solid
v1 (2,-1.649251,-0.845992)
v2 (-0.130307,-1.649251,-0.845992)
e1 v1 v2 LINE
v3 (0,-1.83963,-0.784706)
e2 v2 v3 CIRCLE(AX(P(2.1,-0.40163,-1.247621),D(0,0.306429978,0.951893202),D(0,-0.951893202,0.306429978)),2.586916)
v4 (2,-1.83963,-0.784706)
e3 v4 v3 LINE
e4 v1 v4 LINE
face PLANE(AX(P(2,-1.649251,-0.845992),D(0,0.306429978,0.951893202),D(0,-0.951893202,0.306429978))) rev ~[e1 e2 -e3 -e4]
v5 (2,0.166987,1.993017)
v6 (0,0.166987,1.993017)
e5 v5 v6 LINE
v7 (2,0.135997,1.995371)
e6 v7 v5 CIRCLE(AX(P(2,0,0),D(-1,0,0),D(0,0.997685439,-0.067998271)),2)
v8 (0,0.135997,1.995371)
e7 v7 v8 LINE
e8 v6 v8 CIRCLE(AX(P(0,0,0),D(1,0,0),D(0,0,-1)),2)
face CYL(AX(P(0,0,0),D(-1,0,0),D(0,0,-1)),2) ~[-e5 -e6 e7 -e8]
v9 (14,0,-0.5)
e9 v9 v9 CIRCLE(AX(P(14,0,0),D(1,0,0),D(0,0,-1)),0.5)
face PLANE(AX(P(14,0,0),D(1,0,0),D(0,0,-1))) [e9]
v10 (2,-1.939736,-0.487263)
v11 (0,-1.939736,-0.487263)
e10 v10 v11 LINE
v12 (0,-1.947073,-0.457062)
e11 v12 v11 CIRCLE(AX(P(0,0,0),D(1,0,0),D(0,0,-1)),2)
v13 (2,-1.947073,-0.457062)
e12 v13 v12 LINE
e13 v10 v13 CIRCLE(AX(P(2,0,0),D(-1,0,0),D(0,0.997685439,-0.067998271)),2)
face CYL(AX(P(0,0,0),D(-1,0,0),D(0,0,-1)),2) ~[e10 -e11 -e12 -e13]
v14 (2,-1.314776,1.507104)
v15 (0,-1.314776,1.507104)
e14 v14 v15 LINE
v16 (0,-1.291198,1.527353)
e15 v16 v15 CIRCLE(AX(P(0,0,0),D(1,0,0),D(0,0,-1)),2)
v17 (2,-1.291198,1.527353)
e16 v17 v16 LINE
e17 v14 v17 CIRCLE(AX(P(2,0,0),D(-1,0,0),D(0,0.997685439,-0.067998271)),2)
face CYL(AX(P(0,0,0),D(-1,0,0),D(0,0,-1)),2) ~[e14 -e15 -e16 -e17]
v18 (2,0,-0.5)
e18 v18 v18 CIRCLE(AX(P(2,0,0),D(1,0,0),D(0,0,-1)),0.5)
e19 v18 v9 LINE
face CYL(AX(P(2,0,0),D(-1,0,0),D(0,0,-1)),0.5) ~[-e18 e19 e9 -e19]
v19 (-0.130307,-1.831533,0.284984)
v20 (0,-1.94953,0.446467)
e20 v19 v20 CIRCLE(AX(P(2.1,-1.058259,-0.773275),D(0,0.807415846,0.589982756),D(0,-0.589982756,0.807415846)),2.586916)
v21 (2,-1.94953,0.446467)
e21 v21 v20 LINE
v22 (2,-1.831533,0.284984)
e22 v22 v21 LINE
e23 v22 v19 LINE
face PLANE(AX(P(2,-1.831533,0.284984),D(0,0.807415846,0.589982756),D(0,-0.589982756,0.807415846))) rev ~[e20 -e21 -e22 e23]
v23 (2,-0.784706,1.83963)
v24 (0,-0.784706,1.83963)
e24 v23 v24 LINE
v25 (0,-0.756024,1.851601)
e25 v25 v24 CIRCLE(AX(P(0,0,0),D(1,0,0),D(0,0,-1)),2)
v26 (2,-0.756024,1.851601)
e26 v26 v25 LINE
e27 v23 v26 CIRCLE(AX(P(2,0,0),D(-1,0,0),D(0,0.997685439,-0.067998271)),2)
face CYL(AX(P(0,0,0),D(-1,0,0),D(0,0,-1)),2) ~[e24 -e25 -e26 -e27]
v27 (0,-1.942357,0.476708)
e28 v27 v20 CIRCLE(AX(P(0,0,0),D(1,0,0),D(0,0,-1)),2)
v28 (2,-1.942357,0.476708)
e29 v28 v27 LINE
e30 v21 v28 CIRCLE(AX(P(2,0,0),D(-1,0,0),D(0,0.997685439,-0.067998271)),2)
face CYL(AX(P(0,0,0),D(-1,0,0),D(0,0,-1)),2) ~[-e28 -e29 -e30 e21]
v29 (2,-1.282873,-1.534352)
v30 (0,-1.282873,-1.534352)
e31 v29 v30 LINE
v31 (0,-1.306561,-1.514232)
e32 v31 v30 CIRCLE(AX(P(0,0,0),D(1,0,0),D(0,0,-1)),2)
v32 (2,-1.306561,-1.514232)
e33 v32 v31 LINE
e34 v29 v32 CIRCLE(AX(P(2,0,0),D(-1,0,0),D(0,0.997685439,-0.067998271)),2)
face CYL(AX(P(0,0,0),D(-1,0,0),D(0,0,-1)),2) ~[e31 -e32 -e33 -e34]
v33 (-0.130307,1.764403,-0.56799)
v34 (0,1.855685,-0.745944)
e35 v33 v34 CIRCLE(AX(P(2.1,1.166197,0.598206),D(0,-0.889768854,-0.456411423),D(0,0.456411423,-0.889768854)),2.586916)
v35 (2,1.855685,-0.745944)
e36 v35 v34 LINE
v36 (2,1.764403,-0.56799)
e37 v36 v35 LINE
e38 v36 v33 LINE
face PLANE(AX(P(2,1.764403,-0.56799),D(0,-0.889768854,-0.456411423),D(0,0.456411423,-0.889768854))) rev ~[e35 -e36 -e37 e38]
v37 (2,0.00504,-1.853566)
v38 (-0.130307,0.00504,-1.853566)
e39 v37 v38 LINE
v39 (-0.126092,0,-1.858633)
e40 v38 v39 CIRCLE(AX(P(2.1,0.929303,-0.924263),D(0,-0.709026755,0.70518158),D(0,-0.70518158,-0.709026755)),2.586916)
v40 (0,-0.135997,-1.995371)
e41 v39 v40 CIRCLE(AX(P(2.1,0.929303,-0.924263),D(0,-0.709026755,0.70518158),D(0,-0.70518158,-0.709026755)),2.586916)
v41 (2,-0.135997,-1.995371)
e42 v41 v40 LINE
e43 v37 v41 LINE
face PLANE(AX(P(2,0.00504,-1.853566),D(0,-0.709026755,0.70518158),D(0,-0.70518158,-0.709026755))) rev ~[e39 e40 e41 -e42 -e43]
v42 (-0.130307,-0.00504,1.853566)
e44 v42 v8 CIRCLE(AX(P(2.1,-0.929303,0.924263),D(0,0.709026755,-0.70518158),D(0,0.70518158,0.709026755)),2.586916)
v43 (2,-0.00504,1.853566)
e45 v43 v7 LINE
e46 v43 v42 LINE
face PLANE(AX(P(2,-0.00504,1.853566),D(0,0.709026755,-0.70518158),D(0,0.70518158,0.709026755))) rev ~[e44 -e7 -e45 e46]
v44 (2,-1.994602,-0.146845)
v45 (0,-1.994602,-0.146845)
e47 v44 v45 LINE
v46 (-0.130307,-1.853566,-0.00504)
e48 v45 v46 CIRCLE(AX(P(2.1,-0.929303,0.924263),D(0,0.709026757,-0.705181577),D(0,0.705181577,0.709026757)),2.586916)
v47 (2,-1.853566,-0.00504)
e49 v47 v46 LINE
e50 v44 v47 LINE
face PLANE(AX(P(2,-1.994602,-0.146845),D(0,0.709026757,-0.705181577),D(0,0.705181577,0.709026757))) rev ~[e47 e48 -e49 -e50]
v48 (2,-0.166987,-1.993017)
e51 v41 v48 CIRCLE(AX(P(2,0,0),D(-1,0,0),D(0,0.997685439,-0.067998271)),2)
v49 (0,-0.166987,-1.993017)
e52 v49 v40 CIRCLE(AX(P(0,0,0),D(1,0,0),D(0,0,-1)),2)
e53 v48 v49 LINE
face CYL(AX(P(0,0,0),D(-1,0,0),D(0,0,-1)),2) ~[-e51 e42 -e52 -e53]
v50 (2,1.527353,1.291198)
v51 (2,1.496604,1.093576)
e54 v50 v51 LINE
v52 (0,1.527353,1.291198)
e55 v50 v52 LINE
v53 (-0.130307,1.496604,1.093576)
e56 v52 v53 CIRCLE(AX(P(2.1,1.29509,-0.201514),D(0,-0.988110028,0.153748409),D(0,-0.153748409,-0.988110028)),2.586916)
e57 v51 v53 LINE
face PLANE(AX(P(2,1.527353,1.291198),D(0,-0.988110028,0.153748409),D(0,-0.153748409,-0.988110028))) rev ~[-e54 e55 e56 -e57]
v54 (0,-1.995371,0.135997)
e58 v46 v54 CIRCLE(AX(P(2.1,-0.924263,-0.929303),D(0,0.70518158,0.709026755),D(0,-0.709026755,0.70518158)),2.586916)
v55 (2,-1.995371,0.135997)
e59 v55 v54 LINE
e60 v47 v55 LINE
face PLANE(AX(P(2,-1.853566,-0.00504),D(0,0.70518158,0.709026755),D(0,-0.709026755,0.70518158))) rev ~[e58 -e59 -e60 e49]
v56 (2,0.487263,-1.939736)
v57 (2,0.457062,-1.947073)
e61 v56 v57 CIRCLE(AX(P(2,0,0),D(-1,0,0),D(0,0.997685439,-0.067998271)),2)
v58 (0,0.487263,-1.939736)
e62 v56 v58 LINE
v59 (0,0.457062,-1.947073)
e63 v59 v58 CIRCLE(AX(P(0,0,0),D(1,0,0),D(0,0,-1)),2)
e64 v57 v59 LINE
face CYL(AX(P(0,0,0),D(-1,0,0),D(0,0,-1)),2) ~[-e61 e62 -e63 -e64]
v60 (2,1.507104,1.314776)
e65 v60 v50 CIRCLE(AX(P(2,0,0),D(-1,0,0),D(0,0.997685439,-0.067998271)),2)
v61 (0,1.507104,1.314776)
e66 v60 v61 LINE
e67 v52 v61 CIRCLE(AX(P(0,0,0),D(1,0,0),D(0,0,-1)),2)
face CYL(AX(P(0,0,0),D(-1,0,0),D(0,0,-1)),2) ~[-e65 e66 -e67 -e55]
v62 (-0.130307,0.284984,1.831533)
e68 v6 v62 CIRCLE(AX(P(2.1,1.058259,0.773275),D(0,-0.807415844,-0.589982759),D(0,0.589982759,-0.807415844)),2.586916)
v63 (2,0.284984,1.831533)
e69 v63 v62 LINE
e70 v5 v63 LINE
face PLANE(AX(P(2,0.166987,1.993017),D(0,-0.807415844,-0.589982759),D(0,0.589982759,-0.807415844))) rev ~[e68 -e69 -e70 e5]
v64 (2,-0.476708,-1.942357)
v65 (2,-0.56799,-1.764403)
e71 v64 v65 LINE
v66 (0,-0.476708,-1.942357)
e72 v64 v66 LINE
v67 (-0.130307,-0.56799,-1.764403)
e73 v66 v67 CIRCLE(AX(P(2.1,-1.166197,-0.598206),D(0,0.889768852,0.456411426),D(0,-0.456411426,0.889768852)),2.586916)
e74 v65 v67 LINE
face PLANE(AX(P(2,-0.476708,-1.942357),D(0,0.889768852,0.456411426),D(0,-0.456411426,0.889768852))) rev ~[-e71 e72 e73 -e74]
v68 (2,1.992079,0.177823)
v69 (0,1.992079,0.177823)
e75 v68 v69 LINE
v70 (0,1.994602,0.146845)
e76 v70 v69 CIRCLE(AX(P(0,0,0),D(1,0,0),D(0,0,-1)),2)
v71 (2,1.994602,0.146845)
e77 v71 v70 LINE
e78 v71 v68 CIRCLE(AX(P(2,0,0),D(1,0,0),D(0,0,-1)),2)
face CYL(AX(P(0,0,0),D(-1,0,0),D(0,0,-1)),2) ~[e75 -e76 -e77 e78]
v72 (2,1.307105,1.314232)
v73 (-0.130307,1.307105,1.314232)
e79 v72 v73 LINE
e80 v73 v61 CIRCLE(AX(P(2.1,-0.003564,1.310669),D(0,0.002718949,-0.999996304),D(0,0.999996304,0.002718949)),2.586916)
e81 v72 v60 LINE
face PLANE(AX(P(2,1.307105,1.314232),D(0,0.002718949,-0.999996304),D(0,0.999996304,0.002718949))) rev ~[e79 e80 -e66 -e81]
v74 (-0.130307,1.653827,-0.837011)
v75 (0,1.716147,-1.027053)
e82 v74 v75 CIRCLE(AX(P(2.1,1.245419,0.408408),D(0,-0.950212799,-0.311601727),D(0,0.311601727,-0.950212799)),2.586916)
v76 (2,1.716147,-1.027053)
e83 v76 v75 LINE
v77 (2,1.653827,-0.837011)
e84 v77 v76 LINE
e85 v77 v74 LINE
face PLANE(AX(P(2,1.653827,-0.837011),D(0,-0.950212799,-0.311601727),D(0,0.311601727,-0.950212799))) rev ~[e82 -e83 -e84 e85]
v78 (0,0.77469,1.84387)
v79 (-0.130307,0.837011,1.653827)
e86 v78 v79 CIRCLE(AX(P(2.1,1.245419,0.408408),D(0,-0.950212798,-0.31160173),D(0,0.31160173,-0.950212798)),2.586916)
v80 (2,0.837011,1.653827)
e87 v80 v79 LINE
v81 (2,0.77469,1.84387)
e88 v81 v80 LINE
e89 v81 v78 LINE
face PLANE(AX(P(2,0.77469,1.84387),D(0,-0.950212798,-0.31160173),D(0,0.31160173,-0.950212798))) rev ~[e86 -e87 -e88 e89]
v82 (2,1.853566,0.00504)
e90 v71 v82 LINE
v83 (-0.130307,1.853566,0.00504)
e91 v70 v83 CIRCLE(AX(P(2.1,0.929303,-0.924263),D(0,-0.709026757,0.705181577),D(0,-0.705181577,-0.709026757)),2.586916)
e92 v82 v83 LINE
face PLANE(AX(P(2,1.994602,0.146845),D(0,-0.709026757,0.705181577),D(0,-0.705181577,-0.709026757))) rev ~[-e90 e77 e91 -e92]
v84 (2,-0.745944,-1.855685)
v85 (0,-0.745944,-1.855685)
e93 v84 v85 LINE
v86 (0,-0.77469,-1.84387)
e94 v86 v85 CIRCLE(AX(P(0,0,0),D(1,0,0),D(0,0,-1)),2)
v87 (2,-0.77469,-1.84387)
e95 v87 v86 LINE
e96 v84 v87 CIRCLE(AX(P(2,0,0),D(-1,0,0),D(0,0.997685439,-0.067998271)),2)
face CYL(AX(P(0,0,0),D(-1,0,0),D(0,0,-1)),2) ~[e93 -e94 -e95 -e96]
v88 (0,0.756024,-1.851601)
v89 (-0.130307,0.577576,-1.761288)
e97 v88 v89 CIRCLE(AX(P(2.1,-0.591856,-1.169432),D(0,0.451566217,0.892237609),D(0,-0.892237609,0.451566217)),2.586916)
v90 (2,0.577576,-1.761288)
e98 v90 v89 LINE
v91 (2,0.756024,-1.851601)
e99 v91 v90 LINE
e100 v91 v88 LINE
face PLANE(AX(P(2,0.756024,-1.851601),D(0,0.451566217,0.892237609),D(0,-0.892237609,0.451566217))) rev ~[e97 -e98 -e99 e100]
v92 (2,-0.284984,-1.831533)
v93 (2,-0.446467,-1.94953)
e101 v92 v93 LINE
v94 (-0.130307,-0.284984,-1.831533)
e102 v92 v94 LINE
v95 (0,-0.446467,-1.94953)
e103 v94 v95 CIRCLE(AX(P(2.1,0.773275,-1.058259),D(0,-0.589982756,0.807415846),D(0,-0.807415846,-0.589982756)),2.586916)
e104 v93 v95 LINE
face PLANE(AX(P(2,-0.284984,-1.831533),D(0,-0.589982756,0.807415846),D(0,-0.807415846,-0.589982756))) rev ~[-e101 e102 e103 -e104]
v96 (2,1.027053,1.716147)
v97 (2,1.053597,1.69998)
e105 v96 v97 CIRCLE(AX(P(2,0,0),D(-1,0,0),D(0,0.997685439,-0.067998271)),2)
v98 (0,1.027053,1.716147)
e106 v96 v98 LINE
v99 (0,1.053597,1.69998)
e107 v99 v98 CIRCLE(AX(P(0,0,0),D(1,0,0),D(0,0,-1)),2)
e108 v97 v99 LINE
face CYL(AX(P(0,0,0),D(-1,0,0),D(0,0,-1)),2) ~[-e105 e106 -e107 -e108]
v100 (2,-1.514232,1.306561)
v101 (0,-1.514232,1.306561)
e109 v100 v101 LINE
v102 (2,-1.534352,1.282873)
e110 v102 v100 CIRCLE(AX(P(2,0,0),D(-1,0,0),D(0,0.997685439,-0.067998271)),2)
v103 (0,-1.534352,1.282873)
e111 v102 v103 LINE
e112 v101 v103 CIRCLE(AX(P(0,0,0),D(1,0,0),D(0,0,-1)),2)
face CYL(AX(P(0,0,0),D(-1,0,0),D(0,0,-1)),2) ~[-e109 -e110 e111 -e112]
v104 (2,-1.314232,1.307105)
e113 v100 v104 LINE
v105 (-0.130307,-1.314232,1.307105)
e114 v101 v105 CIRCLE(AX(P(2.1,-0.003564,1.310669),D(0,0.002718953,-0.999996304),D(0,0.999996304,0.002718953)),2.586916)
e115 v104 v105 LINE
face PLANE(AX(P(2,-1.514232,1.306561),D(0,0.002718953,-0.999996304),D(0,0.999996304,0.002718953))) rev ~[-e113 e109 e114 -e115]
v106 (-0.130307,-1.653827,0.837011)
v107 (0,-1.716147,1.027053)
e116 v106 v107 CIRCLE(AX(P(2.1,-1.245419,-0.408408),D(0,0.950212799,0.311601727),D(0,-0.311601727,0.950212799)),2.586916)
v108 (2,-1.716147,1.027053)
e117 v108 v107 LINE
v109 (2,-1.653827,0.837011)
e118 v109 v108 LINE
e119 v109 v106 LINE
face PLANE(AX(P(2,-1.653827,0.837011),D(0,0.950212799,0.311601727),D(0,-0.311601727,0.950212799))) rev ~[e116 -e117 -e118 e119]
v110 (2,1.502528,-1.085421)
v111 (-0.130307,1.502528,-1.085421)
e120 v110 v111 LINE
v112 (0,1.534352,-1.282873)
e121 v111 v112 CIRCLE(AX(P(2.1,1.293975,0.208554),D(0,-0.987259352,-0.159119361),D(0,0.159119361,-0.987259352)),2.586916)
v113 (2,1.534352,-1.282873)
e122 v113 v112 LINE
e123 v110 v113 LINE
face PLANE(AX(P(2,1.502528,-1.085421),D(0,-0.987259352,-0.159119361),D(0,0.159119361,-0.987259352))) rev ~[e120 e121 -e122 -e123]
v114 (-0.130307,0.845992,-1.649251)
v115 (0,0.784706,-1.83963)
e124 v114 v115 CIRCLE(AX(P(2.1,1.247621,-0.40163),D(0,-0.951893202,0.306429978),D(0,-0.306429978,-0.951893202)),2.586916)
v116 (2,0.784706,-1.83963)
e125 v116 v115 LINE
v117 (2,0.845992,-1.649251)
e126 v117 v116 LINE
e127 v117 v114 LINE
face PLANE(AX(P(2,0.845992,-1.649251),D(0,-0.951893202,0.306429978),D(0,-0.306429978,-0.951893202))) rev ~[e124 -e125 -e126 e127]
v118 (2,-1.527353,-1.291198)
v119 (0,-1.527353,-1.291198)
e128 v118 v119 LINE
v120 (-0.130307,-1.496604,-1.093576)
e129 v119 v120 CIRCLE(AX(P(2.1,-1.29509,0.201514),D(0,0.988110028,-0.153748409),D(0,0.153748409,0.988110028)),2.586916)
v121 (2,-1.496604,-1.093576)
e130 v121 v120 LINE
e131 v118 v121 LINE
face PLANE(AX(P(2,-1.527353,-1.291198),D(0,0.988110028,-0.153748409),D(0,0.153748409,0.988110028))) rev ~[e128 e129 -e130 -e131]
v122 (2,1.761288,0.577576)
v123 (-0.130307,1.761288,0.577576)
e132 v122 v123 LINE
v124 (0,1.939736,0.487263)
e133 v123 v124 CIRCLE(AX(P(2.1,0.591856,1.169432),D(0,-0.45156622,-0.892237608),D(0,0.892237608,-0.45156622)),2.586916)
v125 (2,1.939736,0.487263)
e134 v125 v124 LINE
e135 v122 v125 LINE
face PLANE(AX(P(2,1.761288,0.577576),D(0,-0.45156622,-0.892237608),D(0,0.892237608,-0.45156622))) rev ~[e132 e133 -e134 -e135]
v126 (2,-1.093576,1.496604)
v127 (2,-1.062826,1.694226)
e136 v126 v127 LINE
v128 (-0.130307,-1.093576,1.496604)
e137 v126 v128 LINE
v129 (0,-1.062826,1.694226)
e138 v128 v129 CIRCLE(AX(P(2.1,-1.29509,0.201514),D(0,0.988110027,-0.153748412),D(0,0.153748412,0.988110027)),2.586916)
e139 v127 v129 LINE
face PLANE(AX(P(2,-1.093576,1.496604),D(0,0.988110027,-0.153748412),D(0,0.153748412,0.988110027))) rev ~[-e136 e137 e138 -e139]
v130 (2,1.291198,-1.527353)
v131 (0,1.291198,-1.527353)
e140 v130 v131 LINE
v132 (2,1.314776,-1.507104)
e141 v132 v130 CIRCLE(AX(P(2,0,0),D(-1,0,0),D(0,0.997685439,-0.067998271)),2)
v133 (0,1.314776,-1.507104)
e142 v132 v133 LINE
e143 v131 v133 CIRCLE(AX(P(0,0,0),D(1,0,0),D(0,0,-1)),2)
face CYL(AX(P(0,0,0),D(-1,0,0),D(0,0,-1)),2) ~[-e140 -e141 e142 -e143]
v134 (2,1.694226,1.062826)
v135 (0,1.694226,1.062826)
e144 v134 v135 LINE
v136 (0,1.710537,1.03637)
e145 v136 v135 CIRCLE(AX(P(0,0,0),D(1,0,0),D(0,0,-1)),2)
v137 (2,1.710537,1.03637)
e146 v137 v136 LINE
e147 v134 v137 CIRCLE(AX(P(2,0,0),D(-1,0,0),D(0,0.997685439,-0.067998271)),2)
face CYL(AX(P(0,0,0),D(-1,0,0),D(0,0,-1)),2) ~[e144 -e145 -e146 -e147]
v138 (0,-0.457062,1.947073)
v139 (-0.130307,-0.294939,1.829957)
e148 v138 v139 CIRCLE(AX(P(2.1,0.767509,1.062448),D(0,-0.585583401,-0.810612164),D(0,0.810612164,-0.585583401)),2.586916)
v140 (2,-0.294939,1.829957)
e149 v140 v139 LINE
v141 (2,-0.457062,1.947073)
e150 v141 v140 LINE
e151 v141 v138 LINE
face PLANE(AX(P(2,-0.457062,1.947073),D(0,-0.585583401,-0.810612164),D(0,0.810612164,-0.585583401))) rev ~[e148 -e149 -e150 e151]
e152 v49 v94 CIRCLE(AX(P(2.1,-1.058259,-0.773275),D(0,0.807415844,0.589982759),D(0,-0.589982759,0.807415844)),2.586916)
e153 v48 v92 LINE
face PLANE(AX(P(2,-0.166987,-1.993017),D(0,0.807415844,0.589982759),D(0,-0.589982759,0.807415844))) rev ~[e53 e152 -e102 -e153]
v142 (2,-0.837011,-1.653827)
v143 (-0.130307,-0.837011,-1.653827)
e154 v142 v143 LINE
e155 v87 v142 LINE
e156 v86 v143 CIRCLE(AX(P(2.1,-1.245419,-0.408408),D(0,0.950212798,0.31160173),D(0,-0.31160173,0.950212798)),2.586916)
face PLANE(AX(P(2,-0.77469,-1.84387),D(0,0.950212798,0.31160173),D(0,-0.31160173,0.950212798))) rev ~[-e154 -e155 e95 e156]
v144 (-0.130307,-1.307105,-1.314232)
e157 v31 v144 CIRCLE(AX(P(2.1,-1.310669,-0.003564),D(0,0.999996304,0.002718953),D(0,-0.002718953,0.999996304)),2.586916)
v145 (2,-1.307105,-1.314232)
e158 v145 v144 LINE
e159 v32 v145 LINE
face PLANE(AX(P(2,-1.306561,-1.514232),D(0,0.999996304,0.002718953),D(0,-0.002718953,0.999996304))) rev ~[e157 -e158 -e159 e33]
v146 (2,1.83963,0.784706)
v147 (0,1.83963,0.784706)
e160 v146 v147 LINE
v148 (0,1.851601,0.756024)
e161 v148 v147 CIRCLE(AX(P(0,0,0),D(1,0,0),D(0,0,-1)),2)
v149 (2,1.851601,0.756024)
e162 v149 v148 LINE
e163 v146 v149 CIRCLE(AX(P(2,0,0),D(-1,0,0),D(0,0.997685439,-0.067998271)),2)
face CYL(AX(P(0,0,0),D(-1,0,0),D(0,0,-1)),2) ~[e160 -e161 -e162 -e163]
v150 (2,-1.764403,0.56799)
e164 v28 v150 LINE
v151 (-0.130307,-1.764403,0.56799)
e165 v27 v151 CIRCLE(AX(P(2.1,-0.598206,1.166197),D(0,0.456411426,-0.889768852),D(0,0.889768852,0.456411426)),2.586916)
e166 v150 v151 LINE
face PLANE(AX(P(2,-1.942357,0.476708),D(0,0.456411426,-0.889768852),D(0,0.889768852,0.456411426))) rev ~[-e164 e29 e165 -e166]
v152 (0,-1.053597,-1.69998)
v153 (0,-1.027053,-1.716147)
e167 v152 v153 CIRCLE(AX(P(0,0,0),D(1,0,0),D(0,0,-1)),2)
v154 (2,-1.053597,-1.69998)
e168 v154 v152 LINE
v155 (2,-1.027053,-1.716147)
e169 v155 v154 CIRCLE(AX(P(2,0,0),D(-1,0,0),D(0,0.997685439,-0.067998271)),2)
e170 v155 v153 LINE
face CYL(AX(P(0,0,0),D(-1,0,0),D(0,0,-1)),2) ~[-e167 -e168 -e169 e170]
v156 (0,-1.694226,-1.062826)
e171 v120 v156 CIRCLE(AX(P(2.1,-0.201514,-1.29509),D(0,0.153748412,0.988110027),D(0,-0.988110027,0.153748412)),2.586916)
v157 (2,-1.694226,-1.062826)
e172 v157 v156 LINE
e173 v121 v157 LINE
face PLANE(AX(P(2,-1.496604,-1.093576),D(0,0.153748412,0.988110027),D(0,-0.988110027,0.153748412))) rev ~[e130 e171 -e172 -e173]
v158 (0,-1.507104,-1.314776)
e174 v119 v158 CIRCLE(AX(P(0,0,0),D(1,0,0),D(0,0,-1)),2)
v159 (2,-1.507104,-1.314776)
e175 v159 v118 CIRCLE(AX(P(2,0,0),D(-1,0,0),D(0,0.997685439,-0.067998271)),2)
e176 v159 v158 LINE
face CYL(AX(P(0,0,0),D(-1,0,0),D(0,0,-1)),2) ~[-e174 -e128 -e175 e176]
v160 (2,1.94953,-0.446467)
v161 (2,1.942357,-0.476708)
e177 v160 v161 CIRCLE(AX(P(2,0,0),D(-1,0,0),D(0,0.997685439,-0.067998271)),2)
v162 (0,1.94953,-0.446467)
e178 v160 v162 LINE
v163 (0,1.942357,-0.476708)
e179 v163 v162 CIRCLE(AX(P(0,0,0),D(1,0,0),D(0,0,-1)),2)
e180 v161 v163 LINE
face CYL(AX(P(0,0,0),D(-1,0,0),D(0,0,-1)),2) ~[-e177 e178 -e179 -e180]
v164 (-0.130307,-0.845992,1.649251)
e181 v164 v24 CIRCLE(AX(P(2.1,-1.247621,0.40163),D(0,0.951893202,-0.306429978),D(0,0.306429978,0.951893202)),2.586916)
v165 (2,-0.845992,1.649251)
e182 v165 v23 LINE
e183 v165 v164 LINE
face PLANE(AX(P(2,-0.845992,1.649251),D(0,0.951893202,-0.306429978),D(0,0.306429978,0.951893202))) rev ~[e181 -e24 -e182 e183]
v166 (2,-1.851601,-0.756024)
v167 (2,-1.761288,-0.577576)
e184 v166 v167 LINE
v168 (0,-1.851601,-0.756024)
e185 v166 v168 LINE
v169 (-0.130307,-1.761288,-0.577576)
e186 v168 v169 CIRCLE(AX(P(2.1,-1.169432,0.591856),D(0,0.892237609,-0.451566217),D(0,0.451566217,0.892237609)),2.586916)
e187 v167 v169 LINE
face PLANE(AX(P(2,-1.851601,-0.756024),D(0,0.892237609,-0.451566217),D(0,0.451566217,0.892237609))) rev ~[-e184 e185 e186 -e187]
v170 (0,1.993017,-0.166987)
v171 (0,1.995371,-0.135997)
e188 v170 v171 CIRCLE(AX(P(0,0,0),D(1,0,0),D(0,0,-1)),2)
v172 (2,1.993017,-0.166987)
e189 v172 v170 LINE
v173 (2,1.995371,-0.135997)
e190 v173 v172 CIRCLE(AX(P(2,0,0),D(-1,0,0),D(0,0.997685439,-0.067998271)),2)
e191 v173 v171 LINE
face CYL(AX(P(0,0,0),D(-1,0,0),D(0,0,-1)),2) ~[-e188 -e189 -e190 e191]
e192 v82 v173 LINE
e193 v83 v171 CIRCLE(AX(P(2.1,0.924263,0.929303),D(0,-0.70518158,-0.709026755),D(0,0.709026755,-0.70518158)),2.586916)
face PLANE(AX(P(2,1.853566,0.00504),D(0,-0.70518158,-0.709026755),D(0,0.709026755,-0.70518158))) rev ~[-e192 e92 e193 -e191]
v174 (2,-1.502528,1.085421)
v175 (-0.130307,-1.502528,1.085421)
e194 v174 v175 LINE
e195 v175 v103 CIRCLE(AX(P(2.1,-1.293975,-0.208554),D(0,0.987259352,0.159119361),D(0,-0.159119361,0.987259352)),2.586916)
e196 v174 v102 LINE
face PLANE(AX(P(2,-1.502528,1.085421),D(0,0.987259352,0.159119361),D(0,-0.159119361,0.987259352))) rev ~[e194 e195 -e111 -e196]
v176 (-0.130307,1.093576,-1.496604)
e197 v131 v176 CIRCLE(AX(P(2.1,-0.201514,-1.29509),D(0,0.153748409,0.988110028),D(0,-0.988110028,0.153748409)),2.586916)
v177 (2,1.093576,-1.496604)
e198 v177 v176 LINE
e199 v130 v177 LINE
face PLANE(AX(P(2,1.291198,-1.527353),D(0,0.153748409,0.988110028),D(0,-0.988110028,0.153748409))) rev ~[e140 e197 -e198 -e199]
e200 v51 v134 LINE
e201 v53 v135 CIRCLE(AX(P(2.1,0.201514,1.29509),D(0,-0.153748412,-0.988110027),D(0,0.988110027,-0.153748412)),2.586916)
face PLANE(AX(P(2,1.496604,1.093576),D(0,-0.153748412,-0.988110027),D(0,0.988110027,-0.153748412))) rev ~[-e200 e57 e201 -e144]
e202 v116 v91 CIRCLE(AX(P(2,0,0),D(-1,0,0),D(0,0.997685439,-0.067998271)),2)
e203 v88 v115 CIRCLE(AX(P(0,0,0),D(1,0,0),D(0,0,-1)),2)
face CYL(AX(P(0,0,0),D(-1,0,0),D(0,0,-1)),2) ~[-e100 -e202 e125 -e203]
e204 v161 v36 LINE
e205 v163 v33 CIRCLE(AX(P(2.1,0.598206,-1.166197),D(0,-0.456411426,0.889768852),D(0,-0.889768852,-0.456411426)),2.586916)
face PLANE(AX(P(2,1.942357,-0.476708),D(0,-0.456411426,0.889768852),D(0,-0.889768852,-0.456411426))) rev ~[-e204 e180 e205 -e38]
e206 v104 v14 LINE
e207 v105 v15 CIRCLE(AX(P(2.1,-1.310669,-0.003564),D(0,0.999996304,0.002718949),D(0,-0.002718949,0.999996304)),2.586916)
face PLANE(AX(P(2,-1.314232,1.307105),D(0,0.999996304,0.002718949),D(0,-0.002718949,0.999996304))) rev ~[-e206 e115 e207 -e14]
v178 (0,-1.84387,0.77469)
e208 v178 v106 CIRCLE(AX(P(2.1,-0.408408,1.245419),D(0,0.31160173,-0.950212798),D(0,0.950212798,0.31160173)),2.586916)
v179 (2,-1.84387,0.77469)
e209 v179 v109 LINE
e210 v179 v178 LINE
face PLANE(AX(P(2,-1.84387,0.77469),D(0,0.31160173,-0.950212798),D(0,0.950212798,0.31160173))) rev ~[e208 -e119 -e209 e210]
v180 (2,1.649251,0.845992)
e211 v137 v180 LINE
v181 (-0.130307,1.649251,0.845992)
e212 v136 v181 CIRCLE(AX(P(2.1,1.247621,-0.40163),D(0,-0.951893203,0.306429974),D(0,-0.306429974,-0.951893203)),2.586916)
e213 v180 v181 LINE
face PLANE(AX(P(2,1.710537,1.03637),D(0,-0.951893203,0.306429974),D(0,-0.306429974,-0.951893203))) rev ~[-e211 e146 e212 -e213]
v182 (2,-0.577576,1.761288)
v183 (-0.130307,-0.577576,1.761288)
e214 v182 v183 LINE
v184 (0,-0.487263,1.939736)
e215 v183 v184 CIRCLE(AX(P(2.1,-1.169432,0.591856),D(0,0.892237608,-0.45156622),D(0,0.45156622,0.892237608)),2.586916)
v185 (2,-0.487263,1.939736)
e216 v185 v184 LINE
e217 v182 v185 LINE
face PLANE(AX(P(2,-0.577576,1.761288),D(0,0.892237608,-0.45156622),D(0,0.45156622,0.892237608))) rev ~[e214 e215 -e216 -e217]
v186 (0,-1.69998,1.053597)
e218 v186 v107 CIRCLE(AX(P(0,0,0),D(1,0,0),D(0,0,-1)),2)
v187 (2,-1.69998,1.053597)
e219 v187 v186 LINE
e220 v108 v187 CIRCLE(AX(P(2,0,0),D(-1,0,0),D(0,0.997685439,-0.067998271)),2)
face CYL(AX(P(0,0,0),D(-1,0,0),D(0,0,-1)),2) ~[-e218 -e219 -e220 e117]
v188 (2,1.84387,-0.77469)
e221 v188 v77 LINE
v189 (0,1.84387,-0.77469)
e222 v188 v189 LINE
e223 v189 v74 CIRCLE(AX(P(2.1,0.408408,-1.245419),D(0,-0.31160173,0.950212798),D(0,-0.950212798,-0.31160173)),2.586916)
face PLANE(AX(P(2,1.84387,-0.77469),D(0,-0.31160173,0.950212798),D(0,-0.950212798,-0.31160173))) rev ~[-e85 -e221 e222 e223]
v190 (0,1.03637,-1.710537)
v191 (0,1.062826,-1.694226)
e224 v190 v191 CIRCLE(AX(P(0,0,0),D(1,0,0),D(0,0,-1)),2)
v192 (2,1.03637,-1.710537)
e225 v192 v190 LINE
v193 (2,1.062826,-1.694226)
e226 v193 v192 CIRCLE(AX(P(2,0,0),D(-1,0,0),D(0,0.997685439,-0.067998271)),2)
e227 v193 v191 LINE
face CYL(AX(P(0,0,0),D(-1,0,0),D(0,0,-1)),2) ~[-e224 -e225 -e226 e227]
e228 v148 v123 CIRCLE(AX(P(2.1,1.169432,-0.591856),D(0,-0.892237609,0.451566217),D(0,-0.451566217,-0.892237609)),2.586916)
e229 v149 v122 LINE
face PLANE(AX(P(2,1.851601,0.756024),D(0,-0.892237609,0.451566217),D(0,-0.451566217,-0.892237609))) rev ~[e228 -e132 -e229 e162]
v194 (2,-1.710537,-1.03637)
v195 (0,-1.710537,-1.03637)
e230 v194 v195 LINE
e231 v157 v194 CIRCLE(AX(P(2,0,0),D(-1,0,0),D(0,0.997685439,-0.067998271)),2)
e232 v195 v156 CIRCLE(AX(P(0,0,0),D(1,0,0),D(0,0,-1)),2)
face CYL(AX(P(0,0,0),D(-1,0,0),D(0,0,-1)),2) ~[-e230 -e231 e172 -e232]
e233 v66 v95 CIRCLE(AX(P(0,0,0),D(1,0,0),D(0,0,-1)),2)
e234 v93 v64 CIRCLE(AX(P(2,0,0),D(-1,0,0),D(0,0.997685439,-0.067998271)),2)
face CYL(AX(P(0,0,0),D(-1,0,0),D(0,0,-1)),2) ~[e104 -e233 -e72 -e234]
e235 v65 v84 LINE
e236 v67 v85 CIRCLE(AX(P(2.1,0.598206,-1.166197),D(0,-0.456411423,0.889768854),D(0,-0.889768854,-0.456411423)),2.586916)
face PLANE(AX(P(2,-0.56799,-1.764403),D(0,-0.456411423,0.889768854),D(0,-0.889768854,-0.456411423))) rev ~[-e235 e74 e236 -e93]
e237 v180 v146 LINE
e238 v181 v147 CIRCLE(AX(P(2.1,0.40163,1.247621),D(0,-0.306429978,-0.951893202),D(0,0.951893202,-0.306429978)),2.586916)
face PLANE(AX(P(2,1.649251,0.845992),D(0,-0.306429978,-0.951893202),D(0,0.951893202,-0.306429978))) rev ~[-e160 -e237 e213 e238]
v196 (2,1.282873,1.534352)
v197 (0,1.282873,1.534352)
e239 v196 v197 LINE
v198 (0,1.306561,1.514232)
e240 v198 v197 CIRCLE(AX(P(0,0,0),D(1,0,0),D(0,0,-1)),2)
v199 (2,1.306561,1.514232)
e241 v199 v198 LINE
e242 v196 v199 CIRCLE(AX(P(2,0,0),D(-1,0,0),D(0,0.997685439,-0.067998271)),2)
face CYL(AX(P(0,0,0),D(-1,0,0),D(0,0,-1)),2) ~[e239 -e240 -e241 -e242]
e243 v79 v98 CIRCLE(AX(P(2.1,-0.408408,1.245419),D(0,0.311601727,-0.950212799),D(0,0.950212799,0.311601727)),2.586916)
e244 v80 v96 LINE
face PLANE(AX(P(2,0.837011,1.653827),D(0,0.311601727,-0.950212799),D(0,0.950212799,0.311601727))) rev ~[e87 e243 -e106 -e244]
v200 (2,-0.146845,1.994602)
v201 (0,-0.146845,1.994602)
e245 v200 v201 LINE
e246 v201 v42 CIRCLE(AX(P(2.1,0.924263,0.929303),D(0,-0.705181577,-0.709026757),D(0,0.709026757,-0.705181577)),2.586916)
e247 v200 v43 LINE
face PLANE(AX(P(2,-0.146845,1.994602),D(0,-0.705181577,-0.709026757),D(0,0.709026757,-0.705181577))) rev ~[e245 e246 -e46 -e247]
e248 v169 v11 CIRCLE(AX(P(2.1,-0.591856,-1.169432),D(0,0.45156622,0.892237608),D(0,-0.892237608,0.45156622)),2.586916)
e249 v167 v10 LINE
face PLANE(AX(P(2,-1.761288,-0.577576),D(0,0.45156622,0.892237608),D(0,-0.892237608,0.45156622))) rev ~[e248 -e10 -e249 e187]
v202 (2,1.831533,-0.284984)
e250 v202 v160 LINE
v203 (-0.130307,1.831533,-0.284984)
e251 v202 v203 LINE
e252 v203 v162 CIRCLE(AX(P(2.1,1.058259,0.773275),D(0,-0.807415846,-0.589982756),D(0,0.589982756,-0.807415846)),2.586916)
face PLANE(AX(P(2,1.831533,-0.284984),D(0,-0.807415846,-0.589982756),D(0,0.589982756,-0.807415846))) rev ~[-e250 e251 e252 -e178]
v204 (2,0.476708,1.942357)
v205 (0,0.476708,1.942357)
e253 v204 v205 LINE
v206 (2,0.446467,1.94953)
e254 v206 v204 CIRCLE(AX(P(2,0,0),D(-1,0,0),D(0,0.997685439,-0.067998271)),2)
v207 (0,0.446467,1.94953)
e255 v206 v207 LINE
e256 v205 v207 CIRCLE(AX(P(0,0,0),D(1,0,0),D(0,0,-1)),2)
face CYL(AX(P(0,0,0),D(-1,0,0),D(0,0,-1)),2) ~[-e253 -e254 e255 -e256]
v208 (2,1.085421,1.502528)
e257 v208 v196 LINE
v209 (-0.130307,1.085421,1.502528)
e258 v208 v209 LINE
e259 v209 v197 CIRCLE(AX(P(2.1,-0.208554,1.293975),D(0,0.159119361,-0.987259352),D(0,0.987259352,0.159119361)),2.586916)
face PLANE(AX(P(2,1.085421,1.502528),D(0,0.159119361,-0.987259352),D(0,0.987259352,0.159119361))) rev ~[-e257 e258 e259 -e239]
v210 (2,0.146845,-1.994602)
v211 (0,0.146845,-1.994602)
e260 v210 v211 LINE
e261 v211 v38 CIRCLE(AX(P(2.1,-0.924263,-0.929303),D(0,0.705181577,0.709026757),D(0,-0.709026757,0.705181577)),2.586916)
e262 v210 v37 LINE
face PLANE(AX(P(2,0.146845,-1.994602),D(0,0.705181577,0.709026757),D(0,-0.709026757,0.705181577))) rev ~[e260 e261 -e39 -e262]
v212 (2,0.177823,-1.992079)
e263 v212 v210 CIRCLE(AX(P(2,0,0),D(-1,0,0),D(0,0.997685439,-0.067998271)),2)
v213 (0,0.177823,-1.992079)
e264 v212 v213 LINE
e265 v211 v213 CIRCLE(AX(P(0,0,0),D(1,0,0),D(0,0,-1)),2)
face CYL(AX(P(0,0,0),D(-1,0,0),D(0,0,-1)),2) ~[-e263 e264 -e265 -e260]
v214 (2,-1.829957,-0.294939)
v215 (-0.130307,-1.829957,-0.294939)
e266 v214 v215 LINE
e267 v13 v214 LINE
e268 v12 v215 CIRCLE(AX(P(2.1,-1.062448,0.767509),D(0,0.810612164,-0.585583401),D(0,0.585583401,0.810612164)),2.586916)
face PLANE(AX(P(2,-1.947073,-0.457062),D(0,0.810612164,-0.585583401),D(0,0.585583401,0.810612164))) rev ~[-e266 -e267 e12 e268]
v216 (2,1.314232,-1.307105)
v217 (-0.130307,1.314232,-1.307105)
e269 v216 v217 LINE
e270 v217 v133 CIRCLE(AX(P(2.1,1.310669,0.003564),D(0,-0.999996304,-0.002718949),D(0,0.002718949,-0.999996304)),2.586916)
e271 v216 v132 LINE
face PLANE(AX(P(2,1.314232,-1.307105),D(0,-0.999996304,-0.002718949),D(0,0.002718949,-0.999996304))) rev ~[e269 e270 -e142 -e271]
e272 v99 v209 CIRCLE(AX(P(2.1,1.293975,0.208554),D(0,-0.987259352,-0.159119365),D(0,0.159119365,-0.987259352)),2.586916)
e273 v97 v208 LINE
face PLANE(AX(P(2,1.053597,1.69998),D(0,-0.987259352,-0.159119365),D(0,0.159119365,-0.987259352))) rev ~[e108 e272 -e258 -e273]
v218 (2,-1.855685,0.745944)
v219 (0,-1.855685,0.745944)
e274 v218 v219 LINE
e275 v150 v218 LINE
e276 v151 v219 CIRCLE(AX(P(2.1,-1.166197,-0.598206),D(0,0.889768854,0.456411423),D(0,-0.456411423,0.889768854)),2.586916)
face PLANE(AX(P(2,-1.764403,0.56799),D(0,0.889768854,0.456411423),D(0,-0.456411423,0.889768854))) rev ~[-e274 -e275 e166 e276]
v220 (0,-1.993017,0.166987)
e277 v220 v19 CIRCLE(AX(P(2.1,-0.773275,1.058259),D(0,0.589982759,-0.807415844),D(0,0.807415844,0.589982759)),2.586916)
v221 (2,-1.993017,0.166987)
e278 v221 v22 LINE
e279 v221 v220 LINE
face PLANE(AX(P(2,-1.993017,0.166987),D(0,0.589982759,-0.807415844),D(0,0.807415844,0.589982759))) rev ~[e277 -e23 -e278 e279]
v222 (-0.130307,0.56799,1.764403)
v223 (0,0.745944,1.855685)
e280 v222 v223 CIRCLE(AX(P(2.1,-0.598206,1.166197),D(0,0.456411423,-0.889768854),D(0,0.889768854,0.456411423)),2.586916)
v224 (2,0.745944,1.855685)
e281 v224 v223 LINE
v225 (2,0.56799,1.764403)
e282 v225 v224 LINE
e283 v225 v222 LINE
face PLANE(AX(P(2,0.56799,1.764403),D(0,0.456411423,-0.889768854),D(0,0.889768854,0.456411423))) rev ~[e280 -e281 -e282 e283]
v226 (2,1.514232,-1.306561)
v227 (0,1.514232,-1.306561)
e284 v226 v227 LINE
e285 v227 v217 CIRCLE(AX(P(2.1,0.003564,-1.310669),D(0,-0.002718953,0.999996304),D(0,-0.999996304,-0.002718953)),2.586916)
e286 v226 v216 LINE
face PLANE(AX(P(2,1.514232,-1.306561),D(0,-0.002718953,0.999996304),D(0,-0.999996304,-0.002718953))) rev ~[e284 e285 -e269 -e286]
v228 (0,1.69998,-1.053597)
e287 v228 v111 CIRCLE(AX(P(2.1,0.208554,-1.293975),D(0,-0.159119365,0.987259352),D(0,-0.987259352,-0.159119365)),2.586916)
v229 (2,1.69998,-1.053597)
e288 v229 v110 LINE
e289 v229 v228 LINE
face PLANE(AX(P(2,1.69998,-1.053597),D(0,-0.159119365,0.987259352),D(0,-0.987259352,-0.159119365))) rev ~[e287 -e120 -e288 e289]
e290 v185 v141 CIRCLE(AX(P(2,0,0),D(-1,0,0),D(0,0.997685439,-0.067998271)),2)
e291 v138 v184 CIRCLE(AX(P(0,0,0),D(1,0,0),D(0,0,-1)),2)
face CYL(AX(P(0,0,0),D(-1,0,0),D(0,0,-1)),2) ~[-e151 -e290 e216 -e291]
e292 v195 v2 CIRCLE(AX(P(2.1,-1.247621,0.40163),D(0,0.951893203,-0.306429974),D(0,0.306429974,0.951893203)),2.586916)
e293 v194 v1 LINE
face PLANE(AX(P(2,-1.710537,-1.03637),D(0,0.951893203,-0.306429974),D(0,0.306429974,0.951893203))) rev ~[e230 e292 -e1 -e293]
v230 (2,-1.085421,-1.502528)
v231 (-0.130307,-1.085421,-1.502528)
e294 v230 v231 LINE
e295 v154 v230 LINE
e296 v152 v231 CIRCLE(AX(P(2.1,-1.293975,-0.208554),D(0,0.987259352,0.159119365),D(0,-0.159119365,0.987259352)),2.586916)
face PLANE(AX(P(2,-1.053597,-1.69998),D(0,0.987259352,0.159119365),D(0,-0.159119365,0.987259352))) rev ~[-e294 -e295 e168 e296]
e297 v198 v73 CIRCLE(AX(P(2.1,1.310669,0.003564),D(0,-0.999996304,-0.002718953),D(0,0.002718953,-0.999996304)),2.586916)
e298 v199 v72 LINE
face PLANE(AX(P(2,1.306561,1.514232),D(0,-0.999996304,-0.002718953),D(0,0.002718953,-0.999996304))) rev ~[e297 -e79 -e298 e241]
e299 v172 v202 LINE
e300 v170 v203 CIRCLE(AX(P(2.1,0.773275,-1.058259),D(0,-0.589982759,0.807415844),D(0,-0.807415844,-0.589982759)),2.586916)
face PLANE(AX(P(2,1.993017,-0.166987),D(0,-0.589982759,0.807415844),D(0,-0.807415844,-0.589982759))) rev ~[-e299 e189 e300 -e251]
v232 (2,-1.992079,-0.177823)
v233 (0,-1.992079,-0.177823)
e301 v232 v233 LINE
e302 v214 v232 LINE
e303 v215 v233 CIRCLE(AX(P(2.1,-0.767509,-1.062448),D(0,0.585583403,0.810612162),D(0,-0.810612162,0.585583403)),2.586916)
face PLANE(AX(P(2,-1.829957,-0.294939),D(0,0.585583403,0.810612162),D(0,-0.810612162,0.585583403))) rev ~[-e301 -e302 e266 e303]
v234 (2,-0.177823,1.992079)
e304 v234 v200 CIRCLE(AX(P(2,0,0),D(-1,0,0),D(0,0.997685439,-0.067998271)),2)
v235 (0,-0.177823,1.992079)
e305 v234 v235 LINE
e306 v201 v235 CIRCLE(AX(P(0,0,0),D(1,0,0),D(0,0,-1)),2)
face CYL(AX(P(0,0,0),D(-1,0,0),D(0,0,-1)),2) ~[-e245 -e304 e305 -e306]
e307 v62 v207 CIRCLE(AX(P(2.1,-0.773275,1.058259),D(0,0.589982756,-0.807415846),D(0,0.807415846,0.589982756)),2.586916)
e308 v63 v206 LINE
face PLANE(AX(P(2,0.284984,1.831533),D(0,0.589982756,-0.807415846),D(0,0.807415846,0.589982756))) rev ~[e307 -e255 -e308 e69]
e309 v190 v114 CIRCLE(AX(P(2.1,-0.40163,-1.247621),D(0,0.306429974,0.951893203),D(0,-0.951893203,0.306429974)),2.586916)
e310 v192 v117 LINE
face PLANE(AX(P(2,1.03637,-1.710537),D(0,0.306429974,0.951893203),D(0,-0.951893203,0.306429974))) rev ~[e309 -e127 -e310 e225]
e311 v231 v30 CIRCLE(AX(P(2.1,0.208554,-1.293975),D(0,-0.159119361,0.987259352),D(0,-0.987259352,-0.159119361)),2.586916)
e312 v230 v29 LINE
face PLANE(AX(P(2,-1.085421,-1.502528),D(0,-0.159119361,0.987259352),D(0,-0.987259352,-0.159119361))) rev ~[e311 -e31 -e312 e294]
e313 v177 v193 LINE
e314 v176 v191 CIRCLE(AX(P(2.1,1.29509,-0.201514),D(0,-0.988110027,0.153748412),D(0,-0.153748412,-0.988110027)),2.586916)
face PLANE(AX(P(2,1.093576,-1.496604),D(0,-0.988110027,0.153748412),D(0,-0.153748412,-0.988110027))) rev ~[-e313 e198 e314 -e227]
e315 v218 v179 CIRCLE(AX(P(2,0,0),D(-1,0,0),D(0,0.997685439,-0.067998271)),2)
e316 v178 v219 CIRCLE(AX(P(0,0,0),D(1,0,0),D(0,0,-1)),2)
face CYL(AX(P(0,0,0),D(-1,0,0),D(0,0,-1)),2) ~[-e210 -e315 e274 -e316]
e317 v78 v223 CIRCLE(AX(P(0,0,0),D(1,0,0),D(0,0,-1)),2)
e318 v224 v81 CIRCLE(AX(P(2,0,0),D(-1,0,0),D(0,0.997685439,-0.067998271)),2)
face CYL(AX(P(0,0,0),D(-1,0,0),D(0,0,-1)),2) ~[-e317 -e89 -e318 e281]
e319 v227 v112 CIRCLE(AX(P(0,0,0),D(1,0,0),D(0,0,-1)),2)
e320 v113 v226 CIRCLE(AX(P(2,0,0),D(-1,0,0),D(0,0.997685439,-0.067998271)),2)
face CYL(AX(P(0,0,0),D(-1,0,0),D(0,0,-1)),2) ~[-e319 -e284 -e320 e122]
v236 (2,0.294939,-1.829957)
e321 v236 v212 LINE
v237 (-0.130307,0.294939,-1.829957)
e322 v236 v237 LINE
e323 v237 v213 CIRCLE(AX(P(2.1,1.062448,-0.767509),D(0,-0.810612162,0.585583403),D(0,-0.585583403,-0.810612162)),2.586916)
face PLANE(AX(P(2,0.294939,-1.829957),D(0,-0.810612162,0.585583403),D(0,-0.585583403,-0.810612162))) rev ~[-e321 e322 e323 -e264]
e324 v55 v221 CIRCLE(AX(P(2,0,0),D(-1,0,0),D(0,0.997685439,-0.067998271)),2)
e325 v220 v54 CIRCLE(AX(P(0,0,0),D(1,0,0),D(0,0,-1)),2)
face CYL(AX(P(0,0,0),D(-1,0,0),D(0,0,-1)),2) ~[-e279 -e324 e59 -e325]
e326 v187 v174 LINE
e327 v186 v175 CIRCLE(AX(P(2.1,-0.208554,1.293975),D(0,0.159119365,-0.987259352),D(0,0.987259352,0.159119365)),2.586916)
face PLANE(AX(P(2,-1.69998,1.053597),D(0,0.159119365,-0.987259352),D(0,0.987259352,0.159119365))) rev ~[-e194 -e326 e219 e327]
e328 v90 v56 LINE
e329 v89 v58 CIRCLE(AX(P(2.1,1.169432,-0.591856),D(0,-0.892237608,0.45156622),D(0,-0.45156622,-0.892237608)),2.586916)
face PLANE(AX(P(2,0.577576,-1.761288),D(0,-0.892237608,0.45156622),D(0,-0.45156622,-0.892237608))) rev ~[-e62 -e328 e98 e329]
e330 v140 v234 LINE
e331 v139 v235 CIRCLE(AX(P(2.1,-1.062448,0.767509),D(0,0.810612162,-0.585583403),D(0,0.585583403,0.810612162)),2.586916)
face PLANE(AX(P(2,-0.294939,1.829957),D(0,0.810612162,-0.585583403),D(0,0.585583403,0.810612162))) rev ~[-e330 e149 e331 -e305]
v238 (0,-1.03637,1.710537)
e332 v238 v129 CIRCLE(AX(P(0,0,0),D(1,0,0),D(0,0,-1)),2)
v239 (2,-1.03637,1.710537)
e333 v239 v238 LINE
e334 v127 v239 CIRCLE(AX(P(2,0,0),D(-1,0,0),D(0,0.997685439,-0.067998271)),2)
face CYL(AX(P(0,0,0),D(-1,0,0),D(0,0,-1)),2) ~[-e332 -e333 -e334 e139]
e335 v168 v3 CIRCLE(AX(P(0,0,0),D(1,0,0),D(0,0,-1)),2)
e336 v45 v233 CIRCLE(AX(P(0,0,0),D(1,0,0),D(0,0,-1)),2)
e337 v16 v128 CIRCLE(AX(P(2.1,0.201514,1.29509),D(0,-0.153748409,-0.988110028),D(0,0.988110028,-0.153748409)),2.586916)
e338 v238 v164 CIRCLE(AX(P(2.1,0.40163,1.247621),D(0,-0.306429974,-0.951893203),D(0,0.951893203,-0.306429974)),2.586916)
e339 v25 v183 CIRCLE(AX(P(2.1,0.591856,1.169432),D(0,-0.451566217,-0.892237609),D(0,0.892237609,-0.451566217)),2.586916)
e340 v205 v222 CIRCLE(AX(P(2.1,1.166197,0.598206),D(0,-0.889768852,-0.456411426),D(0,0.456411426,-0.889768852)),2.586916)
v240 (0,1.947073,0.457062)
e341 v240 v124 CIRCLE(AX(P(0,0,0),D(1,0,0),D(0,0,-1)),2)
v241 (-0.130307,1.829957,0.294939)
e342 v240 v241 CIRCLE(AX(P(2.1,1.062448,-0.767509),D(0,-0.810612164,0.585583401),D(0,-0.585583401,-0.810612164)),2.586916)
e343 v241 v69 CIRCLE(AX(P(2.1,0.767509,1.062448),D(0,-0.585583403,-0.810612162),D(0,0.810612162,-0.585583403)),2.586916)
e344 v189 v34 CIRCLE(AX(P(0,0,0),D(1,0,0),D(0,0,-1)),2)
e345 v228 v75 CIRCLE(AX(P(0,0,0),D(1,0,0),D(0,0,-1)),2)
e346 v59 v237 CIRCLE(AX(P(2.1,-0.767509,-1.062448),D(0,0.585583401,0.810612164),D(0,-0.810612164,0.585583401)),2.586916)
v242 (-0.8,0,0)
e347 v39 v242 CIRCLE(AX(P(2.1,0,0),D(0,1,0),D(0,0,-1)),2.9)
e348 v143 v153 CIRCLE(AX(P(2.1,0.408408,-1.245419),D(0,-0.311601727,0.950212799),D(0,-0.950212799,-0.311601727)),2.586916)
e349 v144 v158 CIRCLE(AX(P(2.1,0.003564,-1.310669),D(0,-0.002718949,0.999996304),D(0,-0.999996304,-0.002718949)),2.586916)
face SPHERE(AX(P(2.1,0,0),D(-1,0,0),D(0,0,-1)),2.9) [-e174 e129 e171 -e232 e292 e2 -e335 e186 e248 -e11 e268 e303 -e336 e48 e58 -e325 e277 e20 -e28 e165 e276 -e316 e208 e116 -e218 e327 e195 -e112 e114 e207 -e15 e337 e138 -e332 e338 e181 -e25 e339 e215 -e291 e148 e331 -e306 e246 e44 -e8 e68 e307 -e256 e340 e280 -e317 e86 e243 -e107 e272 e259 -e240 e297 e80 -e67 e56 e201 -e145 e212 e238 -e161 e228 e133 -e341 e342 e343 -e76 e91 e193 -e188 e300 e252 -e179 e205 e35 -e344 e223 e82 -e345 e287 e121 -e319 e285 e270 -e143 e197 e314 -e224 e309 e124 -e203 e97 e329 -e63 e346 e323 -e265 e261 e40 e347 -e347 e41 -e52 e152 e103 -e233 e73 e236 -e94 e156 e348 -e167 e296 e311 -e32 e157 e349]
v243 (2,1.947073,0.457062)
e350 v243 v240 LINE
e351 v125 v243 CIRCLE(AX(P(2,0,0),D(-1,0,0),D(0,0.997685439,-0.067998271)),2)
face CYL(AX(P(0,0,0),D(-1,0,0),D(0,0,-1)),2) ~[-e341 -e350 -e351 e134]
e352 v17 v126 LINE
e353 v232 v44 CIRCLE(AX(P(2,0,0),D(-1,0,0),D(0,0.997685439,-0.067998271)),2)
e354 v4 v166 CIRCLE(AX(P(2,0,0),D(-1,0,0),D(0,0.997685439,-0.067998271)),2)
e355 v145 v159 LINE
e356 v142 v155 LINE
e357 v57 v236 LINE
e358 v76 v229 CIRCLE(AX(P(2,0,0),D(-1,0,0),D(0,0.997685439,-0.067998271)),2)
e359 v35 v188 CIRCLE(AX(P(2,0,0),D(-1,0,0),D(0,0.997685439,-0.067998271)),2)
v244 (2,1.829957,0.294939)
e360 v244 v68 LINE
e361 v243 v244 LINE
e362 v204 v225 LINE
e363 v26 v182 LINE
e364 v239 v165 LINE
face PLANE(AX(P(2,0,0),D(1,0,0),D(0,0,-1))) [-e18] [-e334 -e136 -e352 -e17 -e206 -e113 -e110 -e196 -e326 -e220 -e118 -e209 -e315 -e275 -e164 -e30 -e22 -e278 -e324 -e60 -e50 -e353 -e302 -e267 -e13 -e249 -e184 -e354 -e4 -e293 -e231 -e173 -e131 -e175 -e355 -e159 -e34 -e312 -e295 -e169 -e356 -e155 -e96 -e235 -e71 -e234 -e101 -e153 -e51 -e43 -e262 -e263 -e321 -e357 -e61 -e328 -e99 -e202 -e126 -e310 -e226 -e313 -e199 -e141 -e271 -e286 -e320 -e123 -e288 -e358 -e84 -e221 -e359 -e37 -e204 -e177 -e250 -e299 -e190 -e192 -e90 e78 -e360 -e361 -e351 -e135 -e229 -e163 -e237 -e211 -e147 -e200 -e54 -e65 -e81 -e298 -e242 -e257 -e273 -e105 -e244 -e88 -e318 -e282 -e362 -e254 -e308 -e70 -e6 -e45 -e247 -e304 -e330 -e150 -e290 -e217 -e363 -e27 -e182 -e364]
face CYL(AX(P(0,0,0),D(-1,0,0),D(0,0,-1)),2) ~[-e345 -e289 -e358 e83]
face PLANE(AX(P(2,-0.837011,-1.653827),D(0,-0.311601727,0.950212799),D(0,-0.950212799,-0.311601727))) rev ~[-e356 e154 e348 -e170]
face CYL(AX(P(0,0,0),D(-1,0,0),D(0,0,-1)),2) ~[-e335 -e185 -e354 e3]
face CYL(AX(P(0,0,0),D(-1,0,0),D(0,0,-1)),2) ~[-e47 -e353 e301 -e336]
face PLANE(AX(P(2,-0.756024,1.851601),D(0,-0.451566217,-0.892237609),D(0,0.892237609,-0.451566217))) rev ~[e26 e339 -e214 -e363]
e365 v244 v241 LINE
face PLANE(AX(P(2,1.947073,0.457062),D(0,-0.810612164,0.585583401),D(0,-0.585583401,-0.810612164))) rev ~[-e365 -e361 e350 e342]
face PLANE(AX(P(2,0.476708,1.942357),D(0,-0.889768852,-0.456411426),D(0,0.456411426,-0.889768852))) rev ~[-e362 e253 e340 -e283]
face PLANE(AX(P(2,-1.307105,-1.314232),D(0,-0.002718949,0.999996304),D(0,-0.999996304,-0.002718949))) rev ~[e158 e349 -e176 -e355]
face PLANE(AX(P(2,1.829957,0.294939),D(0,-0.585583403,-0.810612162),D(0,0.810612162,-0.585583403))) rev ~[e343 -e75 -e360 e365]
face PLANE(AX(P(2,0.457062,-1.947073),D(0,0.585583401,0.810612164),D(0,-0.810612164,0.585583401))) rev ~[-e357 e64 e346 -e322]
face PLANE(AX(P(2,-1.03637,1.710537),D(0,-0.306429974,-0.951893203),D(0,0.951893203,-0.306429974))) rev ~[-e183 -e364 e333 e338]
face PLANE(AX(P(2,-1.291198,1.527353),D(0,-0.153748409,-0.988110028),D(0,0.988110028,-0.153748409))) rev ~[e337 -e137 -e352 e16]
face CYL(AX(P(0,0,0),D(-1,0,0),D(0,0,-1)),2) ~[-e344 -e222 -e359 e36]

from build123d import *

# Parameters (mm, degrees)
SKETCH1_R           = 2
BOSS_EXTRUDE1_DEPTH = 2
SKETCH2_R           = 0.5
BOSS_EXTRUDE2_DEPTH = 12
DOME1_FACE_RADIUS   = 2
DOME1_HEIGHT        = 0.8
CUT_EXTRUDE1_DEPTH  = 3.8
CIRPATTERN1_COUNT   = 40


with BuildPart() as part:
    # Sketch1 → Boss-Extrude1 (new body)
    with BuildSketch(Plane(origin=(0, 0, 0), x_dir=(0, 0, -1), z_dir=(1, 0, 0))):
        Circle(SKETCH1_R)
    extrude(amount=BOSS_EXTRUDE1_DEPTH)

    # Sketch2 → Boss-Extrude2 (add)
    with BuildSketch(Plane(origin=(2, 0, 0), x_dir=(0, 0, -1), z_dir=(1, 0, 0))):
        Circle(SKETCH2_R)
    extrude(amount=BOSS_EXTRUDE2_DEPTH)

    # Dome1: a dome of height H over a round flat face of radius A is a cap of a sphere of radius (A * A + H * H) / (2 * H)
    dome1_r = (DOME1_FACE_RADIUS * DOME1_FACE_RADIUS + DOME1_HEIGHT * DOME1_HEIGHT) / (2 * DOME1_HEIGHT)
    dome1_base = Plane((0, 0, 0), z_dir=(-1, 0, 0))
    with Locations(dome1_base.offset(DOME1_HEIGHT - dome1_r)):
        dome1_ball = Sphere(dome1_r, mode=Mode.PRIVATE)
    add(split(dome1_ball, bisect_by=dome1_base, keep=Keep.TOP, mode=Mode.PRIVATE))

    # Sketch3 → Cut-Extrude1 (cut, through all)
    with BuildSketch(Plane(origin=(2, 0, 0), x_dir=(0, 0, -1), z_dir=(1, 0, 0))):
        with BuildLine():
            Line((-0.005039775, 1.853565527), (0.135996541, 1.995370878))
            ThreePointArc((0.135996541, 1.995370878), (-0.005437904, 1.999992607), (-0.146845126, 1.994601842))
            Line((-0.146845126, 1.994601842), (-0.005039775, 1.853565527))
        make_face()
    cut_extrude1 = extrude(amount=-CUT_EXTRUDE1_DEPTH, mode=Mode.SUBTRACT)

    # CirPattern1: Cut-Extrude1 ×40 about axis
    cirpattern1_axis = Axis((0, 0, 0), (1, 0, 0))
    for i in range(1, CIRPATTERN1_COUNT):
        add(cut_extrude1.rotate(cirpattern1_axis, i * 360 / CIRPATTERN1_COUNT), mode=Mode.SUBTRACT)


solid = part.part
